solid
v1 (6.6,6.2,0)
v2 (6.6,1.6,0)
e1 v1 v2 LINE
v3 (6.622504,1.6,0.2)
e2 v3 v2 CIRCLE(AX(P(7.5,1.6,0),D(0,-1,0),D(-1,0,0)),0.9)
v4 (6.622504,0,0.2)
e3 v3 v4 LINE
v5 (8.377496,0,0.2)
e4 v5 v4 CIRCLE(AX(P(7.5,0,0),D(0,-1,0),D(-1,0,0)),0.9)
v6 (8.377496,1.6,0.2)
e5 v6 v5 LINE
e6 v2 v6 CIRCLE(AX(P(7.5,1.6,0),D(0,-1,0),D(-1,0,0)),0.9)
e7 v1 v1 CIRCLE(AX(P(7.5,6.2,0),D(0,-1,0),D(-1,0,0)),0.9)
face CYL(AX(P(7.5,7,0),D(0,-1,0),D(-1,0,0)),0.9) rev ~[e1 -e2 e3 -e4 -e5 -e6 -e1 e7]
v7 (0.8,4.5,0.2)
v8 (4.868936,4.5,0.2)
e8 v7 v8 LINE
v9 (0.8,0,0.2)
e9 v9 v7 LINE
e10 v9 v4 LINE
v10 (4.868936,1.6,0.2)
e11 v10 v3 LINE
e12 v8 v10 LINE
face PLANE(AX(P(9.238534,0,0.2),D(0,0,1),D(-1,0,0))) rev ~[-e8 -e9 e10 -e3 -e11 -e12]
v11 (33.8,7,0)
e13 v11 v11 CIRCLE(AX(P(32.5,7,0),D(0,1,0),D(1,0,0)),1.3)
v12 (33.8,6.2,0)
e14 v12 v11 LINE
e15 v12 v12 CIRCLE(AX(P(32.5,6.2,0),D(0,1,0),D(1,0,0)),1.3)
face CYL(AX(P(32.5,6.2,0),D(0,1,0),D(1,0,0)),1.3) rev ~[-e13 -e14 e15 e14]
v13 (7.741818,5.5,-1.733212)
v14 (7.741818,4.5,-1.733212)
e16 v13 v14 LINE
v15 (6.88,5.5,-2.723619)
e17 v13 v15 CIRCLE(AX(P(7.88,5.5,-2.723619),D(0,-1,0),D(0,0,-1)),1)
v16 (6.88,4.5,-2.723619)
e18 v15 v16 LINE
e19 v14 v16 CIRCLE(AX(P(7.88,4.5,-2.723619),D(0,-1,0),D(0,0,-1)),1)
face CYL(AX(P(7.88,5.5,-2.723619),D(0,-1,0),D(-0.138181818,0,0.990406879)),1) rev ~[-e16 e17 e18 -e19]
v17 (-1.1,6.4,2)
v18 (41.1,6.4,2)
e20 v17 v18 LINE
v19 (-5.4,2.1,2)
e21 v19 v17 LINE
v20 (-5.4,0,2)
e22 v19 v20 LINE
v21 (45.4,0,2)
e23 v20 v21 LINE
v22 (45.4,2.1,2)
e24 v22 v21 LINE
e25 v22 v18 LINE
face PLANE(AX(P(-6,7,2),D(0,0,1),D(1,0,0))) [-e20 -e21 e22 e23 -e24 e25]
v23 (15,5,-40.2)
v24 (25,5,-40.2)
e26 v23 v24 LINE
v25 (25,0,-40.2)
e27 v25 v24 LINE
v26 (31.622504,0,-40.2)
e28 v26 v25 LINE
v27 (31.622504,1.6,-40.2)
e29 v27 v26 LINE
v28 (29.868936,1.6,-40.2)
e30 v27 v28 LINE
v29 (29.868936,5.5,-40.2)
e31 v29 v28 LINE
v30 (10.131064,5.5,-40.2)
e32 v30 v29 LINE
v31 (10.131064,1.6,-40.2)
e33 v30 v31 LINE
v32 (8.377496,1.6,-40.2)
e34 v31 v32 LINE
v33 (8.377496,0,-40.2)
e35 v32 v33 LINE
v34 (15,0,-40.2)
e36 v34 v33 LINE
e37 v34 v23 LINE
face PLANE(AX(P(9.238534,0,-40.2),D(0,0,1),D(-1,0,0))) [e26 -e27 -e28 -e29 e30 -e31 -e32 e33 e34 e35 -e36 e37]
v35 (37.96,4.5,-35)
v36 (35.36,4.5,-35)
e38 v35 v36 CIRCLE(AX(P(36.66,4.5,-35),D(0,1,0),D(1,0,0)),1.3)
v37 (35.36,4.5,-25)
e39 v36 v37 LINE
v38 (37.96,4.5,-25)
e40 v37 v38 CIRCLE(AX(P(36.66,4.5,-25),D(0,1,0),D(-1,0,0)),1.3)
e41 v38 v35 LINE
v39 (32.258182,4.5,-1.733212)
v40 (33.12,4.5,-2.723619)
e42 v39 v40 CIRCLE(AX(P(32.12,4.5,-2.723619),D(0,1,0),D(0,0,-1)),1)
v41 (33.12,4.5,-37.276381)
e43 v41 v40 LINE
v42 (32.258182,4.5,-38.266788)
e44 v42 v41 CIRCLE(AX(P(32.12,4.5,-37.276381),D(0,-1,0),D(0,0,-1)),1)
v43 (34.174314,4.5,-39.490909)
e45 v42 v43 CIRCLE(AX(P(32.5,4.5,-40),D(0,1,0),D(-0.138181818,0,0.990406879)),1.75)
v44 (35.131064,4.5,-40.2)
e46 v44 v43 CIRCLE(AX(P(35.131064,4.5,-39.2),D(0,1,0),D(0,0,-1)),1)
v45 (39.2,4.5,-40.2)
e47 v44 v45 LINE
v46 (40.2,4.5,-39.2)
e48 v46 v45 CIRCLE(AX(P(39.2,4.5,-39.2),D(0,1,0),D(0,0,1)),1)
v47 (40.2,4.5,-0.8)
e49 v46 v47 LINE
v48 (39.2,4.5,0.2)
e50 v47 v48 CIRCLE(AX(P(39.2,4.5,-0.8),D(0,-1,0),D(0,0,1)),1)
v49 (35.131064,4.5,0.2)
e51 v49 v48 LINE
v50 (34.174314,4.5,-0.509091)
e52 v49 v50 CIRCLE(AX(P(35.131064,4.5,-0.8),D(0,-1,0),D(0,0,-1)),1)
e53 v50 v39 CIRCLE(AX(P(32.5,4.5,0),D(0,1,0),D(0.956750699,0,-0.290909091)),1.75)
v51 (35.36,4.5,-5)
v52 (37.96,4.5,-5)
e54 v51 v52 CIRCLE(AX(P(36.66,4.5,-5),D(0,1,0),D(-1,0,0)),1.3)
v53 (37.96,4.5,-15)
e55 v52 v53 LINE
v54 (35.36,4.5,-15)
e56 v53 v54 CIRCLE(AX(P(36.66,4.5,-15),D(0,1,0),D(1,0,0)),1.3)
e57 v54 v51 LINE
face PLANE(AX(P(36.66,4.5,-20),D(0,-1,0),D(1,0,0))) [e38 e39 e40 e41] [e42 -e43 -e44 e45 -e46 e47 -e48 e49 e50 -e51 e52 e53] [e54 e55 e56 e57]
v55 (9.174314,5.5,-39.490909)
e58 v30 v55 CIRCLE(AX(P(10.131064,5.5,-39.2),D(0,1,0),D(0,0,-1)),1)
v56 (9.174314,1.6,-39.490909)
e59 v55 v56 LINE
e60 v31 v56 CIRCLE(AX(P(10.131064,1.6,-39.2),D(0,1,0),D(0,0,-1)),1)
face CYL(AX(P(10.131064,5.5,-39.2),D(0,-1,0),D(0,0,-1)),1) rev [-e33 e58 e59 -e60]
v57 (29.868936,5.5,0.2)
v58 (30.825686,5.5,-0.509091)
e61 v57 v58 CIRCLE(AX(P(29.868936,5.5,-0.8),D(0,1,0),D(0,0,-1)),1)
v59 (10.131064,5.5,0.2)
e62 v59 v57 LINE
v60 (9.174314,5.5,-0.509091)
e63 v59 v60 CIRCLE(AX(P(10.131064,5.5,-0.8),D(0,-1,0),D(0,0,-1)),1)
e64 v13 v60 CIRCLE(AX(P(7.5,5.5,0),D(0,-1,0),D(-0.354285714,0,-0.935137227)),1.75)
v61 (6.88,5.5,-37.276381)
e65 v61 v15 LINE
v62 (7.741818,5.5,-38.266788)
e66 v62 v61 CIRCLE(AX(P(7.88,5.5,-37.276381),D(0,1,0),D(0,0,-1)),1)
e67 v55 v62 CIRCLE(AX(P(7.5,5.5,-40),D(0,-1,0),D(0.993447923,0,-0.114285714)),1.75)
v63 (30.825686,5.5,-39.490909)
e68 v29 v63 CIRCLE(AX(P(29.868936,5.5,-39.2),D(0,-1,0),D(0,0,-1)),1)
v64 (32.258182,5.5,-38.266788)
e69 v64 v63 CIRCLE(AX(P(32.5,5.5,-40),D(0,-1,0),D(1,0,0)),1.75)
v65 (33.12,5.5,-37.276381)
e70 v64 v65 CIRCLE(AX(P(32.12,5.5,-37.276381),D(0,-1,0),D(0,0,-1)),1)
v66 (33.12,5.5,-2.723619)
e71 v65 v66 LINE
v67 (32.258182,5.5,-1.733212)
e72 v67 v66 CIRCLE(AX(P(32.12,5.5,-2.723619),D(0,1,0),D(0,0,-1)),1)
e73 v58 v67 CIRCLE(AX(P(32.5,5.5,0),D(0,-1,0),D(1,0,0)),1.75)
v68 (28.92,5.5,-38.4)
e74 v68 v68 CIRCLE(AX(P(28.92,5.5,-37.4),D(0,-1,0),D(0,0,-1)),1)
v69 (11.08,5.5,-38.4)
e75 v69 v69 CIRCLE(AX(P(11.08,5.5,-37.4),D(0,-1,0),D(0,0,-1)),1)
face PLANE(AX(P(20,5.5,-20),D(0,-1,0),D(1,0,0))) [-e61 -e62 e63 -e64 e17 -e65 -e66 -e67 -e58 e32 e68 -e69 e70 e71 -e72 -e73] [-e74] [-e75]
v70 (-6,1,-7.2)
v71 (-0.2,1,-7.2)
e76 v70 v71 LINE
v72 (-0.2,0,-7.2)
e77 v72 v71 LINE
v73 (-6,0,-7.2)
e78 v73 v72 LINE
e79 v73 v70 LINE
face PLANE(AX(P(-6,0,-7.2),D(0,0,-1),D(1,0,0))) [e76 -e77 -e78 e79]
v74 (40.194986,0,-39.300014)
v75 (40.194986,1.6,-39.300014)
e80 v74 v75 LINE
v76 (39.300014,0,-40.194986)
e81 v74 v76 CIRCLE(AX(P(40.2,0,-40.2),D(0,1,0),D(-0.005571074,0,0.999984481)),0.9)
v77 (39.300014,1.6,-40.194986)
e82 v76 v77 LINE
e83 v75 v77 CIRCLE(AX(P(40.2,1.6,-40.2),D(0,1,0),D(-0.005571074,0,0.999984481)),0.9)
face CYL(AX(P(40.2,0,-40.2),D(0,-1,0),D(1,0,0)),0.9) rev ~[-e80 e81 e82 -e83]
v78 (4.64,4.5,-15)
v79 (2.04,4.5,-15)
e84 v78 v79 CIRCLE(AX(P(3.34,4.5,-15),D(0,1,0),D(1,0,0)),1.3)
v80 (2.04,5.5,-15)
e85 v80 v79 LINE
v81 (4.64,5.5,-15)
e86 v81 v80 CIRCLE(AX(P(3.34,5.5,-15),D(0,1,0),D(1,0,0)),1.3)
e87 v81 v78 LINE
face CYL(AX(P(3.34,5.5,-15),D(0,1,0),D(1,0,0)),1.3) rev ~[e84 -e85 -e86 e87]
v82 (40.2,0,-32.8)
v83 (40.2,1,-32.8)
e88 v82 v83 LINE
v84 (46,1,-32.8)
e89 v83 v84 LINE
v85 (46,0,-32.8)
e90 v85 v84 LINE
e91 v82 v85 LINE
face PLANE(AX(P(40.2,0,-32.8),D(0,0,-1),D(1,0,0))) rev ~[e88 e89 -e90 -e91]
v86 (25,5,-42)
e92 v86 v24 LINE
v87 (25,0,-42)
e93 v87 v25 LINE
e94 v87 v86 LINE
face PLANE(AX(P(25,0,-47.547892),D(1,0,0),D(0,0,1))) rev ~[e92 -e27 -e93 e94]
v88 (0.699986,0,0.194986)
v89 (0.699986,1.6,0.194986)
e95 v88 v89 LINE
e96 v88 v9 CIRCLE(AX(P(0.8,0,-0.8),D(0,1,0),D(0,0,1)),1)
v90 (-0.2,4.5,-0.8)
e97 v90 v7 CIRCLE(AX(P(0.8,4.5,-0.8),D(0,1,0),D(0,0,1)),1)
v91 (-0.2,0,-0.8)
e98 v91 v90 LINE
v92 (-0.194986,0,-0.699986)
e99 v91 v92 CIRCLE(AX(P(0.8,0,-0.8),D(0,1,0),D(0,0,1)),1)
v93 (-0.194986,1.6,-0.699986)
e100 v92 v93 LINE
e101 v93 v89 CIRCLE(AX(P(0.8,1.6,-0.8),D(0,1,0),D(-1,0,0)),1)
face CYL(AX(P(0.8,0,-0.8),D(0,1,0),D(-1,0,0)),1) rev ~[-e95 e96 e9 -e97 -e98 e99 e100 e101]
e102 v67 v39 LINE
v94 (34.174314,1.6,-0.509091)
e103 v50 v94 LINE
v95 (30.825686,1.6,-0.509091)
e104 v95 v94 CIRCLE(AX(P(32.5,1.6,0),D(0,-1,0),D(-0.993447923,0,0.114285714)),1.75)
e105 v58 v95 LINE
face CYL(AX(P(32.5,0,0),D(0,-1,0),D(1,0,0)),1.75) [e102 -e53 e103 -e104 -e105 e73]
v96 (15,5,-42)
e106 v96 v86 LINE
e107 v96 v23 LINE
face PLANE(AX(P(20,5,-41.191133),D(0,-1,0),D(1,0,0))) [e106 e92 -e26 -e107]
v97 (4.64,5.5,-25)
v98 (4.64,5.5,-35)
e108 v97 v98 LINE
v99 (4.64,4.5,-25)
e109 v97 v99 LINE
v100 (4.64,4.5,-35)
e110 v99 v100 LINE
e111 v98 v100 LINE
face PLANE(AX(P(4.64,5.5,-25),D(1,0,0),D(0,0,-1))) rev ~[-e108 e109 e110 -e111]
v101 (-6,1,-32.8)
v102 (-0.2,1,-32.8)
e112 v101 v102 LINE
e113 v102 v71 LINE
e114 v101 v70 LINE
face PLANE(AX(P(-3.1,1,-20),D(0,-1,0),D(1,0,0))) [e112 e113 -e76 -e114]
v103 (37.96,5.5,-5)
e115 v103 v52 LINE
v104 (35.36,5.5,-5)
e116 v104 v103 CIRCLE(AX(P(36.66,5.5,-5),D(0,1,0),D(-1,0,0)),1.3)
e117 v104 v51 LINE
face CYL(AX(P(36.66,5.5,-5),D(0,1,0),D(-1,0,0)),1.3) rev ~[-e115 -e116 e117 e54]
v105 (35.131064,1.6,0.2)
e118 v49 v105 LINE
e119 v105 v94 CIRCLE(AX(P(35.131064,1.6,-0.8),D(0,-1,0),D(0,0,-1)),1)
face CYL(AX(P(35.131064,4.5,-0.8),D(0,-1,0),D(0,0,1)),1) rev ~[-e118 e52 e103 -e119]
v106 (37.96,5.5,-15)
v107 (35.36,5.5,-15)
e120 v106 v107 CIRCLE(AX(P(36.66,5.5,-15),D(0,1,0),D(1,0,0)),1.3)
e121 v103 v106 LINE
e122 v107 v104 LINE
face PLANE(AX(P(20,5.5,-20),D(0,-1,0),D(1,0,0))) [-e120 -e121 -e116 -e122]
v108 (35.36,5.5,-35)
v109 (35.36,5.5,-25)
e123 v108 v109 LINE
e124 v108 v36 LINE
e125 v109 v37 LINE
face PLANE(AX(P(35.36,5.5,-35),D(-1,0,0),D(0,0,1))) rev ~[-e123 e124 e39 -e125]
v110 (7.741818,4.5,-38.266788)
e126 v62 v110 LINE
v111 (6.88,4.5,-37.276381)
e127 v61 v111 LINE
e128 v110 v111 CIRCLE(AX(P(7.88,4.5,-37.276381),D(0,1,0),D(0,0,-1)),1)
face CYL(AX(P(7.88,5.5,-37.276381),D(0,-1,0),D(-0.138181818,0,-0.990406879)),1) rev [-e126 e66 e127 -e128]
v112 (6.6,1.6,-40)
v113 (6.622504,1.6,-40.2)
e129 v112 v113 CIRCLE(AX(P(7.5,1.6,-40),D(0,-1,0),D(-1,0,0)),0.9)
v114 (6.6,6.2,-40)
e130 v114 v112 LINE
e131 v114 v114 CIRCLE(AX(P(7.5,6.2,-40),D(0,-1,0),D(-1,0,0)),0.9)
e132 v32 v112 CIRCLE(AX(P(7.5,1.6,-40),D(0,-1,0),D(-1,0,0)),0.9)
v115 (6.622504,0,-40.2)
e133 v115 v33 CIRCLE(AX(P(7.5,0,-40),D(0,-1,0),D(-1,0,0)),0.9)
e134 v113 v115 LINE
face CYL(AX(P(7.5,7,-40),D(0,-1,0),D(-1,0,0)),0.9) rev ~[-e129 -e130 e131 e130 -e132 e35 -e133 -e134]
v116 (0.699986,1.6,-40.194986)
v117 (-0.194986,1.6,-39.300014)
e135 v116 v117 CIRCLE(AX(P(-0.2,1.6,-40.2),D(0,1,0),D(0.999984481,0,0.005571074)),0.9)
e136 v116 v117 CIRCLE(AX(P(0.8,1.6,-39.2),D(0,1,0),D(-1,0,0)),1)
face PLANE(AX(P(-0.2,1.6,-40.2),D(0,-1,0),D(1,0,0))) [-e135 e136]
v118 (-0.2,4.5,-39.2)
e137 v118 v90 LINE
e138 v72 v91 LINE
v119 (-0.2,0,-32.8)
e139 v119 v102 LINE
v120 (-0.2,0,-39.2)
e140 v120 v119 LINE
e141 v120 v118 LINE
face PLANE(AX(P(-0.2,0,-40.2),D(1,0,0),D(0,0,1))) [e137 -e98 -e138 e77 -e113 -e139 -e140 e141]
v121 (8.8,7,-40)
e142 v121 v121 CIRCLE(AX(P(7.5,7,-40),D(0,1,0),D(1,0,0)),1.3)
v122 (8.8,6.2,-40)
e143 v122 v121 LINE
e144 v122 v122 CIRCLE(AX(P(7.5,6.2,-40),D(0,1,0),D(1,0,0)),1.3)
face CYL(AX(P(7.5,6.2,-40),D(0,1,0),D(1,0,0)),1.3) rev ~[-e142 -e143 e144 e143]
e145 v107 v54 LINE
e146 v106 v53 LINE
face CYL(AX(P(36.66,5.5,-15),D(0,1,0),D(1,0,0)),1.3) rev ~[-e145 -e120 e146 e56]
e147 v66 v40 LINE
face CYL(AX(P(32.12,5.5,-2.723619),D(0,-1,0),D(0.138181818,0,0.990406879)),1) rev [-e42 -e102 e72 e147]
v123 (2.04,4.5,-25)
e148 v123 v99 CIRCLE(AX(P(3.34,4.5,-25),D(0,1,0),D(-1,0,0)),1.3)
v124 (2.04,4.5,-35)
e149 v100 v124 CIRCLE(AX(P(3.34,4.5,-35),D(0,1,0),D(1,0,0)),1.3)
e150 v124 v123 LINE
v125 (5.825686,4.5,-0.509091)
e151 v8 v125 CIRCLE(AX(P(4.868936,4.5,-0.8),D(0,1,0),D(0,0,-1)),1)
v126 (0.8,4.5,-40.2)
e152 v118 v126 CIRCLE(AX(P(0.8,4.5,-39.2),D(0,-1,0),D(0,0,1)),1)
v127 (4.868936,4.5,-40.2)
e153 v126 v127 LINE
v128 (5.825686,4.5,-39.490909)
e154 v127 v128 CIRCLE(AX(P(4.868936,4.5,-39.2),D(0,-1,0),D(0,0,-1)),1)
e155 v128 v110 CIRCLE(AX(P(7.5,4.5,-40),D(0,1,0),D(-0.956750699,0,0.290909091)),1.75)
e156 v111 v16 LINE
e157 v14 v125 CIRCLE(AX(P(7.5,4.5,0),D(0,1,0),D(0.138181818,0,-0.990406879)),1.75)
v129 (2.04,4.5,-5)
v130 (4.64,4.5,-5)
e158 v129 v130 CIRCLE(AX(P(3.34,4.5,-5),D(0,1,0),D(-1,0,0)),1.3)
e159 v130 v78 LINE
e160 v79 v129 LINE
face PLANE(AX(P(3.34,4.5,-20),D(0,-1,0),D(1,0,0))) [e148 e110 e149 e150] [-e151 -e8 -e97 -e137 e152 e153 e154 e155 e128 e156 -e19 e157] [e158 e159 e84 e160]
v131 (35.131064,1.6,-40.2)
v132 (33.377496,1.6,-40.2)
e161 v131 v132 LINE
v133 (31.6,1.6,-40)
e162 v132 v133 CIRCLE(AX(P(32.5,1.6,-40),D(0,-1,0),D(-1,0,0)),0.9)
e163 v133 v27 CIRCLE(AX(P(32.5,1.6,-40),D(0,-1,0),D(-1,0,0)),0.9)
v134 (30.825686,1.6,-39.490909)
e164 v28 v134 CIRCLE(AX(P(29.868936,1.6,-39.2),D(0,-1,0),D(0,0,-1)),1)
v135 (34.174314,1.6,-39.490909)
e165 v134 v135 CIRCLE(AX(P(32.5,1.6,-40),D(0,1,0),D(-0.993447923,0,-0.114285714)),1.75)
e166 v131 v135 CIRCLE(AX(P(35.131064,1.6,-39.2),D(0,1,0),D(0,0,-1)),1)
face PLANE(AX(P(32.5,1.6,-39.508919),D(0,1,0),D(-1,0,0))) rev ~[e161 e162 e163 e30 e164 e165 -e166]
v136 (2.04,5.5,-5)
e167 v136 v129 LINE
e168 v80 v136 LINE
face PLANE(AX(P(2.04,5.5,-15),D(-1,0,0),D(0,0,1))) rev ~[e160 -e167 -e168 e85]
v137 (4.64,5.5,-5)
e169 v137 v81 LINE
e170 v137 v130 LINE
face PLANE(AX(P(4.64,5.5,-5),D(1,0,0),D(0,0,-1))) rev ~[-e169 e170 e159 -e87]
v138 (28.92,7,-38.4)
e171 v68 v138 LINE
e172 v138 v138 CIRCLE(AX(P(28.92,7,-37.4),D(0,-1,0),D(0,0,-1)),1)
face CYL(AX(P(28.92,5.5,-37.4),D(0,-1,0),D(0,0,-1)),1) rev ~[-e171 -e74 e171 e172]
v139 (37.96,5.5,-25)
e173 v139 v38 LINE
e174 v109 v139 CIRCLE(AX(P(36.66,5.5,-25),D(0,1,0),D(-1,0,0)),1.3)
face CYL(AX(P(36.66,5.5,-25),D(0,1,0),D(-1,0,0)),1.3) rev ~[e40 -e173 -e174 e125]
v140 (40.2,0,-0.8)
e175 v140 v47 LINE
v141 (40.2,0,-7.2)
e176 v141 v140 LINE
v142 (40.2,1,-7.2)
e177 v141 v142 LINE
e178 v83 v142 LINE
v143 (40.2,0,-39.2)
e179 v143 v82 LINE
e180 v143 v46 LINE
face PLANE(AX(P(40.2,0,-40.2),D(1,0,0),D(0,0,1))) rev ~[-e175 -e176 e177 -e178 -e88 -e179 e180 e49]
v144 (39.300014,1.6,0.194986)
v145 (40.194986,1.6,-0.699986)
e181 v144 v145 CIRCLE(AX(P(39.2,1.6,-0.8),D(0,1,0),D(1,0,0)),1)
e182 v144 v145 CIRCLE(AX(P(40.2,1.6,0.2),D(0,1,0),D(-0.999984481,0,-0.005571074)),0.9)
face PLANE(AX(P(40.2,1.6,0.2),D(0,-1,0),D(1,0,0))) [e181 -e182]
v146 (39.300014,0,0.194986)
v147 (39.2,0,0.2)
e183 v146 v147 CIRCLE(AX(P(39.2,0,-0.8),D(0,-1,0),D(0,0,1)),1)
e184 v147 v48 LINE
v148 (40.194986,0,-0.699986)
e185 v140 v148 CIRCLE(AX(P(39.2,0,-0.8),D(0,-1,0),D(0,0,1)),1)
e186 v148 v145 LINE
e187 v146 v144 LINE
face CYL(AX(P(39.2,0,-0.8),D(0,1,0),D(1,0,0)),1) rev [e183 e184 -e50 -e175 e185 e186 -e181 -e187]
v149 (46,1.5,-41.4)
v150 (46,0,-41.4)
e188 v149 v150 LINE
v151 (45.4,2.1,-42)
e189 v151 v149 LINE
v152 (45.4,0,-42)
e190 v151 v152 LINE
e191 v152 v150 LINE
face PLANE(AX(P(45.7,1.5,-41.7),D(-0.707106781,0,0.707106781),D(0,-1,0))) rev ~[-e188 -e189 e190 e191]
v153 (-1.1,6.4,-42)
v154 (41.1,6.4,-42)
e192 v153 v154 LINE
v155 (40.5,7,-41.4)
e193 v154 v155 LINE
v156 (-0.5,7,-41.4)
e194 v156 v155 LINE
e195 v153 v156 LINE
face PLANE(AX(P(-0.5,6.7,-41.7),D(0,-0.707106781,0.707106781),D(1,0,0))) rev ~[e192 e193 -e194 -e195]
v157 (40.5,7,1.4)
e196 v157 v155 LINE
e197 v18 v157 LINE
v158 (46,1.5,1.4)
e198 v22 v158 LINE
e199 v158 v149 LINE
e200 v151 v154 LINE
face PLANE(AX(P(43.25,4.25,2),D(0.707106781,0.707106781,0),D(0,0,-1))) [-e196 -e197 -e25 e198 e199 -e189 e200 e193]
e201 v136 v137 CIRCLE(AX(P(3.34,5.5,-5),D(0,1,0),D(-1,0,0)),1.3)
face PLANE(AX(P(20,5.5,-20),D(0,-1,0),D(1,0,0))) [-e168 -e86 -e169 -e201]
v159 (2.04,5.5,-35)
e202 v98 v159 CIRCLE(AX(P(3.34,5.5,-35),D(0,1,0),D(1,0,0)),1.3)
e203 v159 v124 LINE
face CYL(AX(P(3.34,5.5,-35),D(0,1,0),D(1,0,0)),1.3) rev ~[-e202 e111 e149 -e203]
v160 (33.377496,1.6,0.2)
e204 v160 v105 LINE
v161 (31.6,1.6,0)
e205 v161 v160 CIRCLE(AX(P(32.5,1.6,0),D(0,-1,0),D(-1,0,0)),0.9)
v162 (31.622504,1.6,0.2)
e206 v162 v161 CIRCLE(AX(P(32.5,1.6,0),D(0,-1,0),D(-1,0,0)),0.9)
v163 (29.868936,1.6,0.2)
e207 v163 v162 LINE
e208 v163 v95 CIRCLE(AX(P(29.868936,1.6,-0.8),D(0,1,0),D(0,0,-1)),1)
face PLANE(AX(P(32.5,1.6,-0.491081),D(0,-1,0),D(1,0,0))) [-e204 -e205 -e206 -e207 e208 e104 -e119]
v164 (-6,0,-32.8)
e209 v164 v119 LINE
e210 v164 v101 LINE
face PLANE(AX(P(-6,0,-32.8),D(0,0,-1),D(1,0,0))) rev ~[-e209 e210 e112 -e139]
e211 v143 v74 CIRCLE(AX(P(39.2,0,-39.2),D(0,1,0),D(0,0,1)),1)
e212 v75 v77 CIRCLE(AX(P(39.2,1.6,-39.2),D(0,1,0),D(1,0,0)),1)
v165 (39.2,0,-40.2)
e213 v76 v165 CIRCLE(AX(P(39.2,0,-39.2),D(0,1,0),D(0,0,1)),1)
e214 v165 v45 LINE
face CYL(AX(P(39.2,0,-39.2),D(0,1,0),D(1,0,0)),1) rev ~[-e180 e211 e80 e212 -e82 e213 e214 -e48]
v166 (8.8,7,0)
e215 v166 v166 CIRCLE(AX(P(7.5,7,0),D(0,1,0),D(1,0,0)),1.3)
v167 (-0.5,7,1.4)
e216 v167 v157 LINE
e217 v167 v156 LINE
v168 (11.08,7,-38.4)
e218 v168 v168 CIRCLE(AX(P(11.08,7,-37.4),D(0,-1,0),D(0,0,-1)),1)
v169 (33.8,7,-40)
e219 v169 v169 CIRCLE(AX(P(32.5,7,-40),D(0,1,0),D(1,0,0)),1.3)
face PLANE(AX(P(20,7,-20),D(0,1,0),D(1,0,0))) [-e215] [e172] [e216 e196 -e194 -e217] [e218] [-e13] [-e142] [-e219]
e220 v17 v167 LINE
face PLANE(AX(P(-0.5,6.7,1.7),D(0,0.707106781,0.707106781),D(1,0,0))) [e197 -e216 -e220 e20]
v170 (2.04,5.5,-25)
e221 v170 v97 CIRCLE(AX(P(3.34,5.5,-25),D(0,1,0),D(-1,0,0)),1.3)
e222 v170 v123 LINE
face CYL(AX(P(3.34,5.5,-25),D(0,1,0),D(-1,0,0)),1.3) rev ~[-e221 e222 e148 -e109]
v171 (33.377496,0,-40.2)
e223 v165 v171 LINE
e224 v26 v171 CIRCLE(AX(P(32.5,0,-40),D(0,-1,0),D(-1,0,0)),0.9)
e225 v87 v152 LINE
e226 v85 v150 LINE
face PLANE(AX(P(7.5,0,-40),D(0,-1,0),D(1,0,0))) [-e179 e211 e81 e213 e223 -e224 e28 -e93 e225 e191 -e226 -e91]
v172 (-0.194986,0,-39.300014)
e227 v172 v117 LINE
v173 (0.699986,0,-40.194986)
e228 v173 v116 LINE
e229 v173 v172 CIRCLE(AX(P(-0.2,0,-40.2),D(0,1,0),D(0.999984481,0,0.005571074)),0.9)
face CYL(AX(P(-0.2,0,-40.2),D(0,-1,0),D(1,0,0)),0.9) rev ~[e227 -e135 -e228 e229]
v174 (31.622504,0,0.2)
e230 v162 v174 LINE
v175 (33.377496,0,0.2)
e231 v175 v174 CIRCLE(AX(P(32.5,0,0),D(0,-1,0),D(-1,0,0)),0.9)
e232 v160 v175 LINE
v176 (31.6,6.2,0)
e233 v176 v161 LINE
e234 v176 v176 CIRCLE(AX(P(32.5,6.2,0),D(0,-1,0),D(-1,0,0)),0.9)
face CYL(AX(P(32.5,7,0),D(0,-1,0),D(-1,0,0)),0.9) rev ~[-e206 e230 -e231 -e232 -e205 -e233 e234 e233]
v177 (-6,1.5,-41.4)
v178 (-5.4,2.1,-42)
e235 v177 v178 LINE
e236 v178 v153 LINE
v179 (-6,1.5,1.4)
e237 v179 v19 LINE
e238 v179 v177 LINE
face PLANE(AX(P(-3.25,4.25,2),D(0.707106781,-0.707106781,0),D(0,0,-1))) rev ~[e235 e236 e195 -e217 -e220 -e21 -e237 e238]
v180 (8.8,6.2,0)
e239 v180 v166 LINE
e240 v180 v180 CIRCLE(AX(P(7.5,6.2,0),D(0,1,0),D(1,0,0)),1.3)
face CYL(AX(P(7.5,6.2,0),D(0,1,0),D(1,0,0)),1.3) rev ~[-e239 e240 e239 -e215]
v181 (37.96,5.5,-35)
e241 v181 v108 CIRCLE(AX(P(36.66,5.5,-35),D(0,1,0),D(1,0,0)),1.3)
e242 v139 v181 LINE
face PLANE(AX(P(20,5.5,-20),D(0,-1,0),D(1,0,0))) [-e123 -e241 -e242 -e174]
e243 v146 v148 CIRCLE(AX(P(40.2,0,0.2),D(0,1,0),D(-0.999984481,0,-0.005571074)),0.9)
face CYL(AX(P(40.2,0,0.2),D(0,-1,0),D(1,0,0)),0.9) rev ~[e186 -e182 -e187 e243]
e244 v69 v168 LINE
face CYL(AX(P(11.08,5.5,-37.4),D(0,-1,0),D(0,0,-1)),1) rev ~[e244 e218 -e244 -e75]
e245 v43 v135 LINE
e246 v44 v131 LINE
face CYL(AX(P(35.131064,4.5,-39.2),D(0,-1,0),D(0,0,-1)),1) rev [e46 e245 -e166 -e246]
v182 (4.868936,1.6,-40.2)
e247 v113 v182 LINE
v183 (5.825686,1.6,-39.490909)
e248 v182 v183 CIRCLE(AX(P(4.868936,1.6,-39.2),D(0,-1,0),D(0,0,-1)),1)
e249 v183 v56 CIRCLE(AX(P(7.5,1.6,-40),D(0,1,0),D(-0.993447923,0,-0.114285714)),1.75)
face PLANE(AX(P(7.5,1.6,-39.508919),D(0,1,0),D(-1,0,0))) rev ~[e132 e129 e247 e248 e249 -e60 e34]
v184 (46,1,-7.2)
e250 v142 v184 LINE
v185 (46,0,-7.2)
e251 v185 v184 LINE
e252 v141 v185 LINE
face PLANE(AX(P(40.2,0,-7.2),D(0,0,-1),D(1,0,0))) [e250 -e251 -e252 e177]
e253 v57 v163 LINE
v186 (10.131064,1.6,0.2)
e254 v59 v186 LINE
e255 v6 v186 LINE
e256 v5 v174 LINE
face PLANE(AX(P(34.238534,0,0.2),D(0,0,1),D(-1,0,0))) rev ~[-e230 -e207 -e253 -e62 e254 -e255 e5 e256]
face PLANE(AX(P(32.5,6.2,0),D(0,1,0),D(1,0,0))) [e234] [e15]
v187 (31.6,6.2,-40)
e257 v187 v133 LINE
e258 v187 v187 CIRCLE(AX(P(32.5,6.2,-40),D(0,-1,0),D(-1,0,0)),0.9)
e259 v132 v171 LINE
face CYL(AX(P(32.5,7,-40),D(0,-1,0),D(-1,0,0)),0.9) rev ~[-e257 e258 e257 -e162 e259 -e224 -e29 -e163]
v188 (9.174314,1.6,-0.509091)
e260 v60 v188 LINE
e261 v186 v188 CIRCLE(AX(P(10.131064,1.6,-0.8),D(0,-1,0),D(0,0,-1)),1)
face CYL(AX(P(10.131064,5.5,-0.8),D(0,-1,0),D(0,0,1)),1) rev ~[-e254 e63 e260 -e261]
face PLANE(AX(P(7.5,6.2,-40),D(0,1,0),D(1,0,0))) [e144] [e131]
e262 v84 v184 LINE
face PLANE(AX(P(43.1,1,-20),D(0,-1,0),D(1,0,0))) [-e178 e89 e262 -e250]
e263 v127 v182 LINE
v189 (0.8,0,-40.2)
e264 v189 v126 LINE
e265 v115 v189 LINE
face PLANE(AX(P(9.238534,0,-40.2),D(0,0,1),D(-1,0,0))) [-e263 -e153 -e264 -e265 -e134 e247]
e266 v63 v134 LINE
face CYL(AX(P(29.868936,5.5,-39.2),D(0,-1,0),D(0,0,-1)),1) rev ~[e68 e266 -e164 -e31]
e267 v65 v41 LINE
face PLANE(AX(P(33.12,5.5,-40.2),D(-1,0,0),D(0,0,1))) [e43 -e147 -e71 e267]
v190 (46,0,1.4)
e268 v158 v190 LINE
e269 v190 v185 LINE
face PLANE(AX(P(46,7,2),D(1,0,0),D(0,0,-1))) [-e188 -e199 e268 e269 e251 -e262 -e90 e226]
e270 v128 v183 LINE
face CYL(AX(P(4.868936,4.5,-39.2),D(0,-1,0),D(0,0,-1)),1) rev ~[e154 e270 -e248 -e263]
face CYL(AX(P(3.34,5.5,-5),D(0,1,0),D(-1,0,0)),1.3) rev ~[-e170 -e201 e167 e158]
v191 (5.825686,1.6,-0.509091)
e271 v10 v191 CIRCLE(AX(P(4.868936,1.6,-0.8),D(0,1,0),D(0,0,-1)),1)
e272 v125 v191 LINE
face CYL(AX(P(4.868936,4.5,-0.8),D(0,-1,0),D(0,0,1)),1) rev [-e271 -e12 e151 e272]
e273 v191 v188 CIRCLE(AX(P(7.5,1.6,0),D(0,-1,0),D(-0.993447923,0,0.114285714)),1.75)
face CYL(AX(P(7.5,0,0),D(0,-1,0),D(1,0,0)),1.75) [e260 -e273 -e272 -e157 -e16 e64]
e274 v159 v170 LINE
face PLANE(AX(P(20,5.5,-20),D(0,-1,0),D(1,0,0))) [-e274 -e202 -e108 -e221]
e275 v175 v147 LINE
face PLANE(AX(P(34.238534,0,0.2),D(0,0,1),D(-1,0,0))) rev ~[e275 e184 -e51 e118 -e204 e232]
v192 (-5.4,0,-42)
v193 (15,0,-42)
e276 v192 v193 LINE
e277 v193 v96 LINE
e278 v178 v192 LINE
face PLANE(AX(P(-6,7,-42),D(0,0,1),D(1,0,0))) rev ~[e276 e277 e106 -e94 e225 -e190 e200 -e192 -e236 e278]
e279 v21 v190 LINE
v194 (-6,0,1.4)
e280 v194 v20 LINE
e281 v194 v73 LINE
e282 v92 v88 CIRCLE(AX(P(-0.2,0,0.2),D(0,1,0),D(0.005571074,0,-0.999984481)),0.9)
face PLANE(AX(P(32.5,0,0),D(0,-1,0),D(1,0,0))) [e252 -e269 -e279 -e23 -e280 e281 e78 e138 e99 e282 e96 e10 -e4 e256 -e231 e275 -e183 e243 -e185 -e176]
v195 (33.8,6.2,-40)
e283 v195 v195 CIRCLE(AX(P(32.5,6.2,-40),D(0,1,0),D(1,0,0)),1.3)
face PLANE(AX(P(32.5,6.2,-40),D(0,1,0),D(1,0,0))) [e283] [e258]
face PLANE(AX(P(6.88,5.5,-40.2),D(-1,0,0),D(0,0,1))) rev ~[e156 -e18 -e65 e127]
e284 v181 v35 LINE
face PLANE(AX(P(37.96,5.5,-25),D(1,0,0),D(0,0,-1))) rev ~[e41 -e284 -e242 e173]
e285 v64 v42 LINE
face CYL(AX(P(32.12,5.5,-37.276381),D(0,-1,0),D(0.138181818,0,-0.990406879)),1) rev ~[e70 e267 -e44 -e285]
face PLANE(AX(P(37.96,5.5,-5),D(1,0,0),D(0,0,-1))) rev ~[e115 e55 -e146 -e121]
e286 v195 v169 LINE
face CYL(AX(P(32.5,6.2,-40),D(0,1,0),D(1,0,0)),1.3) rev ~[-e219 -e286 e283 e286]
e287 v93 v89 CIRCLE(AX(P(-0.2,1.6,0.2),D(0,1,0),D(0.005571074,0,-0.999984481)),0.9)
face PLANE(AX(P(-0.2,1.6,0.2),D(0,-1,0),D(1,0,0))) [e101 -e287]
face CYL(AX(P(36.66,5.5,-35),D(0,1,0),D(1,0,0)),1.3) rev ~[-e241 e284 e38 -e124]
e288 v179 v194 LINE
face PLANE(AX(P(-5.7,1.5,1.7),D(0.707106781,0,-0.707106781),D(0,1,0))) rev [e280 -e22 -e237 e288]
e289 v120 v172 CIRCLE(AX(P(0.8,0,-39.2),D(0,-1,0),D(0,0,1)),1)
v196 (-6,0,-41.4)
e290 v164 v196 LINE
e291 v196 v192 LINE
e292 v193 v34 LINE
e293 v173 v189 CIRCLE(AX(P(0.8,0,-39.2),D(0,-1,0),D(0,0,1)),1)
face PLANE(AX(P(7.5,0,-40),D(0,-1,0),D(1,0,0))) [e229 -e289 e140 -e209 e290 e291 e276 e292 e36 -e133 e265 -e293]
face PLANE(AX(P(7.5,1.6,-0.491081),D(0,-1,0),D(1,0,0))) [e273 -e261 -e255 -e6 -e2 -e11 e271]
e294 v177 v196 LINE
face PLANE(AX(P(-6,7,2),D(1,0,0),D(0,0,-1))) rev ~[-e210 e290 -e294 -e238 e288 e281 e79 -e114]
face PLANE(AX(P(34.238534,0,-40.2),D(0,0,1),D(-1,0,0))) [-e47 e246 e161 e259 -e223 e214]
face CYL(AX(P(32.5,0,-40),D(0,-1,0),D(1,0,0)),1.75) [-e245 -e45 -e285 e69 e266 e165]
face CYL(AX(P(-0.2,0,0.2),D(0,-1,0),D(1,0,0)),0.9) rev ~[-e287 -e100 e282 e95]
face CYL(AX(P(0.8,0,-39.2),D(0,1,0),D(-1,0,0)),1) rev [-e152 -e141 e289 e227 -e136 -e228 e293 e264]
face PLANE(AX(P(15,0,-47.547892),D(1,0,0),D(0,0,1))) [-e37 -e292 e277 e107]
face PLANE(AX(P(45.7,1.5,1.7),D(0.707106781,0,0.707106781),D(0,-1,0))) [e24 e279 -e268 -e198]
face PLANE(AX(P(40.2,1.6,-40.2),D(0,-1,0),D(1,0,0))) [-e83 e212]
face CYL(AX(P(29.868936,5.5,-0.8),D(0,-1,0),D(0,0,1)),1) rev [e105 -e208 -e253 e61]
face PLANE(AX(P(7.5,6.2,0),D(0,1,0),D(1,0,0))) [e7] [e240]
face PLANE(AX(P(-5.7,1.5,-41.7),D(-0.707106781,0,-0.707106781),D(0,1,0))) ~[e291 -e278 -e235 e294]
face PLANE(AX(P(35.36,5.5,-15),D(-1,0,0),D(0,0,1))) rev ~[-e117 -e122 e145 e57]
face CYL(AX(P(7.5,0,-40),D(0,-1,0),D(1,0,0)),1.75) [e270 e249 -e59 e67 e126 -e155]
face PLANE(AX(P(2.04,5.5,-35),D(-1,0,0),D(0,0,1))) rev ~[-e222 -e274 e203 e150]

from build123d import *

# Parameters (mm, degrees)
SKETCH_1_W                     = 52
SKETCH_1_H                     = 44
EXTRUDE_1_DEPTH                = 7
SKETCH_2_W                     = 40.4
SKETCH_2_H                     = 40.4
CUT_EXTRUDE_1_DEPTH            = 5.5
SKETCH_4_W                     = 7.08
SKETCH_4_H                     = 40.4
EXTRUDE_2_DEPTH                = 1
SKETCH_5_W                     = 5.8
SKETCH_5_H                     = 25.6
CUT_EXTRUDE_2_DEPTH            = 1
SKETCH_7_R                     = 1
CUT_EXTRUDE_3_DEPTH            = 63.531991812
EXTRUDE_3_REACH                = 64.682
SKETCH_13_R                    = 1.75
HOLE_WIZARD_M1_6_1_D           = 1.8
HOLE_WIZARD_M1_6_1_CBORE_D     = 2.6
HOLE_WIZARD_M1_6_1_CBORE_DEPTH = 0.8
CHAMFER_1_SIZE                 = 5.5
CUT_EXTRUDE_4_DEPTH            = 1.6
SKETCH_15_W                    = 10
SKETCH_15_H                    = 12.713519239
CUT_EXTRUDE_5_DEPTH            = 5
CHAMFER_2_SIZE                 = 0.6
FILLET_1_R                     = 1
SKETCH_19_R                    = 0.9
CUT_EXTRUDE_9_DEPTH            = 1.6


with BuildPart() as part:
    # 스케치1 → 보스-돌출1 (new body)
    with BuildSketch(Plane(origin=(0, 7, 0), x_dir=(1, 0, 0), z_dir=(0, 1, 0))):
        with Locations((20, 20)):
            Rectangle(SKETCH_1_W, SKETCH_1_H)
    extrude(amount=-EXTRUDE_1_DEPTH)

    # 스케치2 → 컷-돌출1 (cut)
    with BuildSketch(Plane.XZ):
        with Locations((20, -20)):
            Rectangle(SKETCH_2_W, SKETCH_2_H)
    extrude(amount=-CUT_EXTRUDE_1_DEPTH, mode=Mode.SUBTRACT)

    # 스케치4 → 보스-돌출2 (add)
    # profile 1 of 2: a face of its own
    with BuildSketch(Plane.XZ.offset(-5.5)):
        with Locations((3.34, -20)):
            Rectangle(SKETCH_4_W, SKETCH_4_H)
        with BuildLine():
            Line((4.64, -5), (4.64, -15))
            ThreePointArc((4.64, -15), (3.34, -16.3), (2.04, -15))
            Line((2.04, -15), (2.04, -5))
            ThreePointArc((2.04, -5), (3.34, -3.7), (4.64, -5))
        make_face(mode=Mode.SUBTRACT)
        with BuildLine():
            Line((4.64, -25), (4.64, -35))
            ThreePointArc((4.64, -35), (3.34, -36.3), (2.04, -35))
            Line((2.04, -35), (2.04, -25))
            ThreePointArc((2.04, -25), (3.34, -23.7), (4.64, -25))
        make_face(mode=Mode.SUBTRACT)
    # profile 2 of 2: a face of its own
    with BuildSketch(Plane.XZ.offset(-5.5)):
        with Locations((36.66, -20)):
            Rectangle(SKETCH_4_W, SKETCH_4_H)
        with BuildLine():
            Line((37.96, -5), (37.96, -15))
            ThreePointArc((37.96, -15), (36.66, -16.3), (35.36, -15))
            Line((35.36, -15), (35.36, -5))
            ThreePointArc((35.36, -5), (36.66, -3.7), (37.96, -5))
        make_face(mode=Mode.SUBTRACT)
        with BuildLine():
            Line((35.36, -35), (35.36, -25))
            ThreePointArc((35.36, -25), (36.66, -23.7), (37.96, -25))
            Line((37.96, -25), (37.96, -35))
            ThreePointArc((37.96, -35), (36.66, -36.3), (35.36, -35))
        make_face(mode=Mode.SUBTRACT)
    extrude(amount=EXTRUDE_2_DEPTH)

    # 스케치5 → 컷-돌출2 (cut)
    with BuildSketch(Plane.XZ):
        with Locations((43.1, -20)):
            Rectangle(SKETCH_5_W, SKETCH_5_H)
        with Locations((-3.1, -20)):
            Rectangle(SKETCH_5_W, SKETCH_5_H)
    extrude(amount=-CUT_EXTRUDE_2_DEPTH, mode=Mode.SUBTRACT)

    # 스케치7 → 컷-돌출3 (cut, through all)
    with BuildSketch(Plane.XZ.offset(-5.5)):
        with Locations(Location((28.92, -37.4, 0), (0, 0, 270))):
            Circle(SKETCH_7_R)
        with Locations(Location((11.08, -37.4, 0), (0, 0, 270))):
            Circle(SKETCH_7_R)
    extrude(amount=-CUT_EXTRUDE_3_DEPTH, mode=Mode.SUBTRACT)

    # 스케치13 → 보스-돌출3 (add, up to next)
    with BuildSketch(Plane.XZ, mode=Mode.PRIVATE) as extrude_3_sk1:
        with Locations((7.5, 0)):
            Circle(SKETCH_13_R)
    extrude_3_tool1 = extrude(extrude_3_sk1.sketch, amount=-EXTRUDE_3_REACH, mode=Mode.PRIVATE) - part.part
    # 스케치13 → 보스-돌출3 (add, up to next)
    with BuildSketch(Plane.XZ, mode=Mode.PRIVATE) as extrude_3_sk2:
        with Locations((32.5, 0)):
            Circle(SKETCH_13_R)
    extrude_3_tool2 = extrude(extrude_3_sk2.sketch, amount=-EXTRUDE_3_REACH, mode=Mode.PRIVATE) - part.part
    # 스케치13 → 보스-돌출3 (add, up to next)
    with BuildSketch(Plane.XZ, mode=Mode.PRIVATE) as extrude_3_sk3:
        with Locations((32.5, -40)):
            Circle(SKETCH_13_R)
    extrude_3_tool3 = extrude(extrude_3_sk3.sketch, amount=-EXTRUDE_3_REACH, mode=Mode.PRIVATE) - part.part
    # 스케치13 → 보스-돌출3 (add, up to next)
    with BuildSketch(Plane.XZ, mode=Mode.PRIVATE) as extrude_3_sk4:
        with Locations((7.5, -40)):
            Circle(SKETCH_13_R)
    extrude_3_tool4 = extrude(extrude_3_sk4.sketch, amount=-EXTRUDE_3_REACH, mode=Mode.PRIVATE) - part.part
    add(extrude_3_tool1.solids().sort_by_distance((7.5, 0, 0))[0])
    add(extrude_3_tool2.solids().sort_by_distance((32.5, 0, 0))[0])
    add(extrude_3_tool3.solids().sort_by_distance((32.5, 0, -40))[0])
    add(extrude_3_tool4.solids().sort_by_distance((7.5, 0, -40))[0])

    # M1.6 남비 머리 나사용 카운터보어1 (through all)
    with Locations(Plane(origin=(0, 7, 0), x_dir=(1, 0, 0), z_dir=(0, 1, 0))):
        with Locations((7.5, 0), (32.5, 0), (7.5, 40), (32.5, 40)):
            CounterBoreHole(HOLE_WIZARD_M1_6_1_D / 2, HOLE_WIZARD_M1_6_1_CBORE_D / 2, HOLE_WIZARD_M1_6_1_CBORE_DEPTH)

    # 모따기1
    chamfer_1_edges = [part.edges().sort_by_distance(p)[0] for p in [
        (46, 7, -20),
        (-6, 7, -20),
    ]]
    chamfer(chamfer_1_edges, length=CHAMFER_1_SIZE)

    # 스케치14 → 컷-돌출4 (cut)
    with BuildSketch(Plane.XZ):
        with BuildLine():
            Line((34.238533865, 0.2), (30.761466135, 0.2))
            ThreePointArc((30.761466135, 0.2), (32.5, -1.75), (34.238533865, 0.2))
        make_face()
        with BuildLine():
            Line((9.238533865, 0.2), (5.761466135, 0.2))
            ThreePointArc((5.761466135, 0.2), (7.5, -1.75), (9.238533865, 0.2))
        make_face()
        with BuildLine():
            Line((9.238533865, -40.2), (5.761466135, -40.2))
            ThreePointArc((5.761466135, -40.2), (7.5, -38.25), (9.238533865, -40.2))
        make_face()
        with BuildLine():
            Line((34.238533865, -40.2), (30.761466135, -40.2))
            ThreePointArc((30.761466135, -40.2), (32.5, -38.25), (34.238533865, -40.2))
        make_face()
    extrude(amount=-CUT_EXTRUDE_4_DEPTH, mode=Mode.SUBTRACT)

    # 스케치15 → 컷-돌출5 (cut)
    with BuildSketch(Plane.XZ):
        with Locations((20, -41.191132848)):
            Rectangle(SKETCH_15_W, SKETCH_15_H)
    extrude(amount=-CUT_EXTRUDE_5_DEPTH, mode=Mode.SUBTRACT)

    # 모따기2
    chamfer_2_edges = [part.edges().sort_by_distance(p)[0] for p in [
        (46, 0.75, 2),
        (46, 0.75, -42),
        (-6, 0.75, -42),
        (20, 7, 2),
        (20, 7, -42),
        (-6, 0.75, 2),
    ]]
    chamfer(chamfer_2_edges, length=CHAMFER_2_SIZE)

    # 필렛1
    fillet_1_edges = [part.edges().sort_by_distance(p)[0] for p in [
        (6.88, 5, -1.636490147),
        (9.238533865, 3.55, 0.2),
        (34.238533865, 3.05, 0.2),
        (33.12, 5, -1.636490147),
        (33.12, 5, -38.363509853),
        (30.761466135, 3.55, -40.2),
        (6.88, 5, -38.363509853),
        (5.761466135, 3.05, -40.2),
        (34.238533865, 3.05, -40.2),
        (9.238533865, 3.55, -40.2),
        (30.761466135, 3.55, 0.2),
        (5.761466135, 3.05, 0.2),
        (-0.2, 2.25, -40.2),
        (-0.2, 2.25, 0.2),
        (40.2, 2.25, -40.2),
        (40.2, 2.25, 0.2),
    ]]
    fillet(fillet_1_edges, radius=FILLET_1_R)

    # 스케치19 → 컷-돌출9 (cut)
    with BuildSketch(Plane.XZ):
        with Locations((-0.2, -40.2)):
            Circle(SKETCH_19_R)
        with Locations((-0.2, 0.2)):
            Circle(SKETCH_19_R)
        with Locations((40.2, 0.2)):
            Circle(SKETCH_19_R)
        with Locations((40.2, -40.2)):
            Circle(SKETCH_19_R)
    extrude(amount=-CUT_EXTRUDE_9_DEPTH, mode=Mode.SUBTRACT)


solid = part.part
